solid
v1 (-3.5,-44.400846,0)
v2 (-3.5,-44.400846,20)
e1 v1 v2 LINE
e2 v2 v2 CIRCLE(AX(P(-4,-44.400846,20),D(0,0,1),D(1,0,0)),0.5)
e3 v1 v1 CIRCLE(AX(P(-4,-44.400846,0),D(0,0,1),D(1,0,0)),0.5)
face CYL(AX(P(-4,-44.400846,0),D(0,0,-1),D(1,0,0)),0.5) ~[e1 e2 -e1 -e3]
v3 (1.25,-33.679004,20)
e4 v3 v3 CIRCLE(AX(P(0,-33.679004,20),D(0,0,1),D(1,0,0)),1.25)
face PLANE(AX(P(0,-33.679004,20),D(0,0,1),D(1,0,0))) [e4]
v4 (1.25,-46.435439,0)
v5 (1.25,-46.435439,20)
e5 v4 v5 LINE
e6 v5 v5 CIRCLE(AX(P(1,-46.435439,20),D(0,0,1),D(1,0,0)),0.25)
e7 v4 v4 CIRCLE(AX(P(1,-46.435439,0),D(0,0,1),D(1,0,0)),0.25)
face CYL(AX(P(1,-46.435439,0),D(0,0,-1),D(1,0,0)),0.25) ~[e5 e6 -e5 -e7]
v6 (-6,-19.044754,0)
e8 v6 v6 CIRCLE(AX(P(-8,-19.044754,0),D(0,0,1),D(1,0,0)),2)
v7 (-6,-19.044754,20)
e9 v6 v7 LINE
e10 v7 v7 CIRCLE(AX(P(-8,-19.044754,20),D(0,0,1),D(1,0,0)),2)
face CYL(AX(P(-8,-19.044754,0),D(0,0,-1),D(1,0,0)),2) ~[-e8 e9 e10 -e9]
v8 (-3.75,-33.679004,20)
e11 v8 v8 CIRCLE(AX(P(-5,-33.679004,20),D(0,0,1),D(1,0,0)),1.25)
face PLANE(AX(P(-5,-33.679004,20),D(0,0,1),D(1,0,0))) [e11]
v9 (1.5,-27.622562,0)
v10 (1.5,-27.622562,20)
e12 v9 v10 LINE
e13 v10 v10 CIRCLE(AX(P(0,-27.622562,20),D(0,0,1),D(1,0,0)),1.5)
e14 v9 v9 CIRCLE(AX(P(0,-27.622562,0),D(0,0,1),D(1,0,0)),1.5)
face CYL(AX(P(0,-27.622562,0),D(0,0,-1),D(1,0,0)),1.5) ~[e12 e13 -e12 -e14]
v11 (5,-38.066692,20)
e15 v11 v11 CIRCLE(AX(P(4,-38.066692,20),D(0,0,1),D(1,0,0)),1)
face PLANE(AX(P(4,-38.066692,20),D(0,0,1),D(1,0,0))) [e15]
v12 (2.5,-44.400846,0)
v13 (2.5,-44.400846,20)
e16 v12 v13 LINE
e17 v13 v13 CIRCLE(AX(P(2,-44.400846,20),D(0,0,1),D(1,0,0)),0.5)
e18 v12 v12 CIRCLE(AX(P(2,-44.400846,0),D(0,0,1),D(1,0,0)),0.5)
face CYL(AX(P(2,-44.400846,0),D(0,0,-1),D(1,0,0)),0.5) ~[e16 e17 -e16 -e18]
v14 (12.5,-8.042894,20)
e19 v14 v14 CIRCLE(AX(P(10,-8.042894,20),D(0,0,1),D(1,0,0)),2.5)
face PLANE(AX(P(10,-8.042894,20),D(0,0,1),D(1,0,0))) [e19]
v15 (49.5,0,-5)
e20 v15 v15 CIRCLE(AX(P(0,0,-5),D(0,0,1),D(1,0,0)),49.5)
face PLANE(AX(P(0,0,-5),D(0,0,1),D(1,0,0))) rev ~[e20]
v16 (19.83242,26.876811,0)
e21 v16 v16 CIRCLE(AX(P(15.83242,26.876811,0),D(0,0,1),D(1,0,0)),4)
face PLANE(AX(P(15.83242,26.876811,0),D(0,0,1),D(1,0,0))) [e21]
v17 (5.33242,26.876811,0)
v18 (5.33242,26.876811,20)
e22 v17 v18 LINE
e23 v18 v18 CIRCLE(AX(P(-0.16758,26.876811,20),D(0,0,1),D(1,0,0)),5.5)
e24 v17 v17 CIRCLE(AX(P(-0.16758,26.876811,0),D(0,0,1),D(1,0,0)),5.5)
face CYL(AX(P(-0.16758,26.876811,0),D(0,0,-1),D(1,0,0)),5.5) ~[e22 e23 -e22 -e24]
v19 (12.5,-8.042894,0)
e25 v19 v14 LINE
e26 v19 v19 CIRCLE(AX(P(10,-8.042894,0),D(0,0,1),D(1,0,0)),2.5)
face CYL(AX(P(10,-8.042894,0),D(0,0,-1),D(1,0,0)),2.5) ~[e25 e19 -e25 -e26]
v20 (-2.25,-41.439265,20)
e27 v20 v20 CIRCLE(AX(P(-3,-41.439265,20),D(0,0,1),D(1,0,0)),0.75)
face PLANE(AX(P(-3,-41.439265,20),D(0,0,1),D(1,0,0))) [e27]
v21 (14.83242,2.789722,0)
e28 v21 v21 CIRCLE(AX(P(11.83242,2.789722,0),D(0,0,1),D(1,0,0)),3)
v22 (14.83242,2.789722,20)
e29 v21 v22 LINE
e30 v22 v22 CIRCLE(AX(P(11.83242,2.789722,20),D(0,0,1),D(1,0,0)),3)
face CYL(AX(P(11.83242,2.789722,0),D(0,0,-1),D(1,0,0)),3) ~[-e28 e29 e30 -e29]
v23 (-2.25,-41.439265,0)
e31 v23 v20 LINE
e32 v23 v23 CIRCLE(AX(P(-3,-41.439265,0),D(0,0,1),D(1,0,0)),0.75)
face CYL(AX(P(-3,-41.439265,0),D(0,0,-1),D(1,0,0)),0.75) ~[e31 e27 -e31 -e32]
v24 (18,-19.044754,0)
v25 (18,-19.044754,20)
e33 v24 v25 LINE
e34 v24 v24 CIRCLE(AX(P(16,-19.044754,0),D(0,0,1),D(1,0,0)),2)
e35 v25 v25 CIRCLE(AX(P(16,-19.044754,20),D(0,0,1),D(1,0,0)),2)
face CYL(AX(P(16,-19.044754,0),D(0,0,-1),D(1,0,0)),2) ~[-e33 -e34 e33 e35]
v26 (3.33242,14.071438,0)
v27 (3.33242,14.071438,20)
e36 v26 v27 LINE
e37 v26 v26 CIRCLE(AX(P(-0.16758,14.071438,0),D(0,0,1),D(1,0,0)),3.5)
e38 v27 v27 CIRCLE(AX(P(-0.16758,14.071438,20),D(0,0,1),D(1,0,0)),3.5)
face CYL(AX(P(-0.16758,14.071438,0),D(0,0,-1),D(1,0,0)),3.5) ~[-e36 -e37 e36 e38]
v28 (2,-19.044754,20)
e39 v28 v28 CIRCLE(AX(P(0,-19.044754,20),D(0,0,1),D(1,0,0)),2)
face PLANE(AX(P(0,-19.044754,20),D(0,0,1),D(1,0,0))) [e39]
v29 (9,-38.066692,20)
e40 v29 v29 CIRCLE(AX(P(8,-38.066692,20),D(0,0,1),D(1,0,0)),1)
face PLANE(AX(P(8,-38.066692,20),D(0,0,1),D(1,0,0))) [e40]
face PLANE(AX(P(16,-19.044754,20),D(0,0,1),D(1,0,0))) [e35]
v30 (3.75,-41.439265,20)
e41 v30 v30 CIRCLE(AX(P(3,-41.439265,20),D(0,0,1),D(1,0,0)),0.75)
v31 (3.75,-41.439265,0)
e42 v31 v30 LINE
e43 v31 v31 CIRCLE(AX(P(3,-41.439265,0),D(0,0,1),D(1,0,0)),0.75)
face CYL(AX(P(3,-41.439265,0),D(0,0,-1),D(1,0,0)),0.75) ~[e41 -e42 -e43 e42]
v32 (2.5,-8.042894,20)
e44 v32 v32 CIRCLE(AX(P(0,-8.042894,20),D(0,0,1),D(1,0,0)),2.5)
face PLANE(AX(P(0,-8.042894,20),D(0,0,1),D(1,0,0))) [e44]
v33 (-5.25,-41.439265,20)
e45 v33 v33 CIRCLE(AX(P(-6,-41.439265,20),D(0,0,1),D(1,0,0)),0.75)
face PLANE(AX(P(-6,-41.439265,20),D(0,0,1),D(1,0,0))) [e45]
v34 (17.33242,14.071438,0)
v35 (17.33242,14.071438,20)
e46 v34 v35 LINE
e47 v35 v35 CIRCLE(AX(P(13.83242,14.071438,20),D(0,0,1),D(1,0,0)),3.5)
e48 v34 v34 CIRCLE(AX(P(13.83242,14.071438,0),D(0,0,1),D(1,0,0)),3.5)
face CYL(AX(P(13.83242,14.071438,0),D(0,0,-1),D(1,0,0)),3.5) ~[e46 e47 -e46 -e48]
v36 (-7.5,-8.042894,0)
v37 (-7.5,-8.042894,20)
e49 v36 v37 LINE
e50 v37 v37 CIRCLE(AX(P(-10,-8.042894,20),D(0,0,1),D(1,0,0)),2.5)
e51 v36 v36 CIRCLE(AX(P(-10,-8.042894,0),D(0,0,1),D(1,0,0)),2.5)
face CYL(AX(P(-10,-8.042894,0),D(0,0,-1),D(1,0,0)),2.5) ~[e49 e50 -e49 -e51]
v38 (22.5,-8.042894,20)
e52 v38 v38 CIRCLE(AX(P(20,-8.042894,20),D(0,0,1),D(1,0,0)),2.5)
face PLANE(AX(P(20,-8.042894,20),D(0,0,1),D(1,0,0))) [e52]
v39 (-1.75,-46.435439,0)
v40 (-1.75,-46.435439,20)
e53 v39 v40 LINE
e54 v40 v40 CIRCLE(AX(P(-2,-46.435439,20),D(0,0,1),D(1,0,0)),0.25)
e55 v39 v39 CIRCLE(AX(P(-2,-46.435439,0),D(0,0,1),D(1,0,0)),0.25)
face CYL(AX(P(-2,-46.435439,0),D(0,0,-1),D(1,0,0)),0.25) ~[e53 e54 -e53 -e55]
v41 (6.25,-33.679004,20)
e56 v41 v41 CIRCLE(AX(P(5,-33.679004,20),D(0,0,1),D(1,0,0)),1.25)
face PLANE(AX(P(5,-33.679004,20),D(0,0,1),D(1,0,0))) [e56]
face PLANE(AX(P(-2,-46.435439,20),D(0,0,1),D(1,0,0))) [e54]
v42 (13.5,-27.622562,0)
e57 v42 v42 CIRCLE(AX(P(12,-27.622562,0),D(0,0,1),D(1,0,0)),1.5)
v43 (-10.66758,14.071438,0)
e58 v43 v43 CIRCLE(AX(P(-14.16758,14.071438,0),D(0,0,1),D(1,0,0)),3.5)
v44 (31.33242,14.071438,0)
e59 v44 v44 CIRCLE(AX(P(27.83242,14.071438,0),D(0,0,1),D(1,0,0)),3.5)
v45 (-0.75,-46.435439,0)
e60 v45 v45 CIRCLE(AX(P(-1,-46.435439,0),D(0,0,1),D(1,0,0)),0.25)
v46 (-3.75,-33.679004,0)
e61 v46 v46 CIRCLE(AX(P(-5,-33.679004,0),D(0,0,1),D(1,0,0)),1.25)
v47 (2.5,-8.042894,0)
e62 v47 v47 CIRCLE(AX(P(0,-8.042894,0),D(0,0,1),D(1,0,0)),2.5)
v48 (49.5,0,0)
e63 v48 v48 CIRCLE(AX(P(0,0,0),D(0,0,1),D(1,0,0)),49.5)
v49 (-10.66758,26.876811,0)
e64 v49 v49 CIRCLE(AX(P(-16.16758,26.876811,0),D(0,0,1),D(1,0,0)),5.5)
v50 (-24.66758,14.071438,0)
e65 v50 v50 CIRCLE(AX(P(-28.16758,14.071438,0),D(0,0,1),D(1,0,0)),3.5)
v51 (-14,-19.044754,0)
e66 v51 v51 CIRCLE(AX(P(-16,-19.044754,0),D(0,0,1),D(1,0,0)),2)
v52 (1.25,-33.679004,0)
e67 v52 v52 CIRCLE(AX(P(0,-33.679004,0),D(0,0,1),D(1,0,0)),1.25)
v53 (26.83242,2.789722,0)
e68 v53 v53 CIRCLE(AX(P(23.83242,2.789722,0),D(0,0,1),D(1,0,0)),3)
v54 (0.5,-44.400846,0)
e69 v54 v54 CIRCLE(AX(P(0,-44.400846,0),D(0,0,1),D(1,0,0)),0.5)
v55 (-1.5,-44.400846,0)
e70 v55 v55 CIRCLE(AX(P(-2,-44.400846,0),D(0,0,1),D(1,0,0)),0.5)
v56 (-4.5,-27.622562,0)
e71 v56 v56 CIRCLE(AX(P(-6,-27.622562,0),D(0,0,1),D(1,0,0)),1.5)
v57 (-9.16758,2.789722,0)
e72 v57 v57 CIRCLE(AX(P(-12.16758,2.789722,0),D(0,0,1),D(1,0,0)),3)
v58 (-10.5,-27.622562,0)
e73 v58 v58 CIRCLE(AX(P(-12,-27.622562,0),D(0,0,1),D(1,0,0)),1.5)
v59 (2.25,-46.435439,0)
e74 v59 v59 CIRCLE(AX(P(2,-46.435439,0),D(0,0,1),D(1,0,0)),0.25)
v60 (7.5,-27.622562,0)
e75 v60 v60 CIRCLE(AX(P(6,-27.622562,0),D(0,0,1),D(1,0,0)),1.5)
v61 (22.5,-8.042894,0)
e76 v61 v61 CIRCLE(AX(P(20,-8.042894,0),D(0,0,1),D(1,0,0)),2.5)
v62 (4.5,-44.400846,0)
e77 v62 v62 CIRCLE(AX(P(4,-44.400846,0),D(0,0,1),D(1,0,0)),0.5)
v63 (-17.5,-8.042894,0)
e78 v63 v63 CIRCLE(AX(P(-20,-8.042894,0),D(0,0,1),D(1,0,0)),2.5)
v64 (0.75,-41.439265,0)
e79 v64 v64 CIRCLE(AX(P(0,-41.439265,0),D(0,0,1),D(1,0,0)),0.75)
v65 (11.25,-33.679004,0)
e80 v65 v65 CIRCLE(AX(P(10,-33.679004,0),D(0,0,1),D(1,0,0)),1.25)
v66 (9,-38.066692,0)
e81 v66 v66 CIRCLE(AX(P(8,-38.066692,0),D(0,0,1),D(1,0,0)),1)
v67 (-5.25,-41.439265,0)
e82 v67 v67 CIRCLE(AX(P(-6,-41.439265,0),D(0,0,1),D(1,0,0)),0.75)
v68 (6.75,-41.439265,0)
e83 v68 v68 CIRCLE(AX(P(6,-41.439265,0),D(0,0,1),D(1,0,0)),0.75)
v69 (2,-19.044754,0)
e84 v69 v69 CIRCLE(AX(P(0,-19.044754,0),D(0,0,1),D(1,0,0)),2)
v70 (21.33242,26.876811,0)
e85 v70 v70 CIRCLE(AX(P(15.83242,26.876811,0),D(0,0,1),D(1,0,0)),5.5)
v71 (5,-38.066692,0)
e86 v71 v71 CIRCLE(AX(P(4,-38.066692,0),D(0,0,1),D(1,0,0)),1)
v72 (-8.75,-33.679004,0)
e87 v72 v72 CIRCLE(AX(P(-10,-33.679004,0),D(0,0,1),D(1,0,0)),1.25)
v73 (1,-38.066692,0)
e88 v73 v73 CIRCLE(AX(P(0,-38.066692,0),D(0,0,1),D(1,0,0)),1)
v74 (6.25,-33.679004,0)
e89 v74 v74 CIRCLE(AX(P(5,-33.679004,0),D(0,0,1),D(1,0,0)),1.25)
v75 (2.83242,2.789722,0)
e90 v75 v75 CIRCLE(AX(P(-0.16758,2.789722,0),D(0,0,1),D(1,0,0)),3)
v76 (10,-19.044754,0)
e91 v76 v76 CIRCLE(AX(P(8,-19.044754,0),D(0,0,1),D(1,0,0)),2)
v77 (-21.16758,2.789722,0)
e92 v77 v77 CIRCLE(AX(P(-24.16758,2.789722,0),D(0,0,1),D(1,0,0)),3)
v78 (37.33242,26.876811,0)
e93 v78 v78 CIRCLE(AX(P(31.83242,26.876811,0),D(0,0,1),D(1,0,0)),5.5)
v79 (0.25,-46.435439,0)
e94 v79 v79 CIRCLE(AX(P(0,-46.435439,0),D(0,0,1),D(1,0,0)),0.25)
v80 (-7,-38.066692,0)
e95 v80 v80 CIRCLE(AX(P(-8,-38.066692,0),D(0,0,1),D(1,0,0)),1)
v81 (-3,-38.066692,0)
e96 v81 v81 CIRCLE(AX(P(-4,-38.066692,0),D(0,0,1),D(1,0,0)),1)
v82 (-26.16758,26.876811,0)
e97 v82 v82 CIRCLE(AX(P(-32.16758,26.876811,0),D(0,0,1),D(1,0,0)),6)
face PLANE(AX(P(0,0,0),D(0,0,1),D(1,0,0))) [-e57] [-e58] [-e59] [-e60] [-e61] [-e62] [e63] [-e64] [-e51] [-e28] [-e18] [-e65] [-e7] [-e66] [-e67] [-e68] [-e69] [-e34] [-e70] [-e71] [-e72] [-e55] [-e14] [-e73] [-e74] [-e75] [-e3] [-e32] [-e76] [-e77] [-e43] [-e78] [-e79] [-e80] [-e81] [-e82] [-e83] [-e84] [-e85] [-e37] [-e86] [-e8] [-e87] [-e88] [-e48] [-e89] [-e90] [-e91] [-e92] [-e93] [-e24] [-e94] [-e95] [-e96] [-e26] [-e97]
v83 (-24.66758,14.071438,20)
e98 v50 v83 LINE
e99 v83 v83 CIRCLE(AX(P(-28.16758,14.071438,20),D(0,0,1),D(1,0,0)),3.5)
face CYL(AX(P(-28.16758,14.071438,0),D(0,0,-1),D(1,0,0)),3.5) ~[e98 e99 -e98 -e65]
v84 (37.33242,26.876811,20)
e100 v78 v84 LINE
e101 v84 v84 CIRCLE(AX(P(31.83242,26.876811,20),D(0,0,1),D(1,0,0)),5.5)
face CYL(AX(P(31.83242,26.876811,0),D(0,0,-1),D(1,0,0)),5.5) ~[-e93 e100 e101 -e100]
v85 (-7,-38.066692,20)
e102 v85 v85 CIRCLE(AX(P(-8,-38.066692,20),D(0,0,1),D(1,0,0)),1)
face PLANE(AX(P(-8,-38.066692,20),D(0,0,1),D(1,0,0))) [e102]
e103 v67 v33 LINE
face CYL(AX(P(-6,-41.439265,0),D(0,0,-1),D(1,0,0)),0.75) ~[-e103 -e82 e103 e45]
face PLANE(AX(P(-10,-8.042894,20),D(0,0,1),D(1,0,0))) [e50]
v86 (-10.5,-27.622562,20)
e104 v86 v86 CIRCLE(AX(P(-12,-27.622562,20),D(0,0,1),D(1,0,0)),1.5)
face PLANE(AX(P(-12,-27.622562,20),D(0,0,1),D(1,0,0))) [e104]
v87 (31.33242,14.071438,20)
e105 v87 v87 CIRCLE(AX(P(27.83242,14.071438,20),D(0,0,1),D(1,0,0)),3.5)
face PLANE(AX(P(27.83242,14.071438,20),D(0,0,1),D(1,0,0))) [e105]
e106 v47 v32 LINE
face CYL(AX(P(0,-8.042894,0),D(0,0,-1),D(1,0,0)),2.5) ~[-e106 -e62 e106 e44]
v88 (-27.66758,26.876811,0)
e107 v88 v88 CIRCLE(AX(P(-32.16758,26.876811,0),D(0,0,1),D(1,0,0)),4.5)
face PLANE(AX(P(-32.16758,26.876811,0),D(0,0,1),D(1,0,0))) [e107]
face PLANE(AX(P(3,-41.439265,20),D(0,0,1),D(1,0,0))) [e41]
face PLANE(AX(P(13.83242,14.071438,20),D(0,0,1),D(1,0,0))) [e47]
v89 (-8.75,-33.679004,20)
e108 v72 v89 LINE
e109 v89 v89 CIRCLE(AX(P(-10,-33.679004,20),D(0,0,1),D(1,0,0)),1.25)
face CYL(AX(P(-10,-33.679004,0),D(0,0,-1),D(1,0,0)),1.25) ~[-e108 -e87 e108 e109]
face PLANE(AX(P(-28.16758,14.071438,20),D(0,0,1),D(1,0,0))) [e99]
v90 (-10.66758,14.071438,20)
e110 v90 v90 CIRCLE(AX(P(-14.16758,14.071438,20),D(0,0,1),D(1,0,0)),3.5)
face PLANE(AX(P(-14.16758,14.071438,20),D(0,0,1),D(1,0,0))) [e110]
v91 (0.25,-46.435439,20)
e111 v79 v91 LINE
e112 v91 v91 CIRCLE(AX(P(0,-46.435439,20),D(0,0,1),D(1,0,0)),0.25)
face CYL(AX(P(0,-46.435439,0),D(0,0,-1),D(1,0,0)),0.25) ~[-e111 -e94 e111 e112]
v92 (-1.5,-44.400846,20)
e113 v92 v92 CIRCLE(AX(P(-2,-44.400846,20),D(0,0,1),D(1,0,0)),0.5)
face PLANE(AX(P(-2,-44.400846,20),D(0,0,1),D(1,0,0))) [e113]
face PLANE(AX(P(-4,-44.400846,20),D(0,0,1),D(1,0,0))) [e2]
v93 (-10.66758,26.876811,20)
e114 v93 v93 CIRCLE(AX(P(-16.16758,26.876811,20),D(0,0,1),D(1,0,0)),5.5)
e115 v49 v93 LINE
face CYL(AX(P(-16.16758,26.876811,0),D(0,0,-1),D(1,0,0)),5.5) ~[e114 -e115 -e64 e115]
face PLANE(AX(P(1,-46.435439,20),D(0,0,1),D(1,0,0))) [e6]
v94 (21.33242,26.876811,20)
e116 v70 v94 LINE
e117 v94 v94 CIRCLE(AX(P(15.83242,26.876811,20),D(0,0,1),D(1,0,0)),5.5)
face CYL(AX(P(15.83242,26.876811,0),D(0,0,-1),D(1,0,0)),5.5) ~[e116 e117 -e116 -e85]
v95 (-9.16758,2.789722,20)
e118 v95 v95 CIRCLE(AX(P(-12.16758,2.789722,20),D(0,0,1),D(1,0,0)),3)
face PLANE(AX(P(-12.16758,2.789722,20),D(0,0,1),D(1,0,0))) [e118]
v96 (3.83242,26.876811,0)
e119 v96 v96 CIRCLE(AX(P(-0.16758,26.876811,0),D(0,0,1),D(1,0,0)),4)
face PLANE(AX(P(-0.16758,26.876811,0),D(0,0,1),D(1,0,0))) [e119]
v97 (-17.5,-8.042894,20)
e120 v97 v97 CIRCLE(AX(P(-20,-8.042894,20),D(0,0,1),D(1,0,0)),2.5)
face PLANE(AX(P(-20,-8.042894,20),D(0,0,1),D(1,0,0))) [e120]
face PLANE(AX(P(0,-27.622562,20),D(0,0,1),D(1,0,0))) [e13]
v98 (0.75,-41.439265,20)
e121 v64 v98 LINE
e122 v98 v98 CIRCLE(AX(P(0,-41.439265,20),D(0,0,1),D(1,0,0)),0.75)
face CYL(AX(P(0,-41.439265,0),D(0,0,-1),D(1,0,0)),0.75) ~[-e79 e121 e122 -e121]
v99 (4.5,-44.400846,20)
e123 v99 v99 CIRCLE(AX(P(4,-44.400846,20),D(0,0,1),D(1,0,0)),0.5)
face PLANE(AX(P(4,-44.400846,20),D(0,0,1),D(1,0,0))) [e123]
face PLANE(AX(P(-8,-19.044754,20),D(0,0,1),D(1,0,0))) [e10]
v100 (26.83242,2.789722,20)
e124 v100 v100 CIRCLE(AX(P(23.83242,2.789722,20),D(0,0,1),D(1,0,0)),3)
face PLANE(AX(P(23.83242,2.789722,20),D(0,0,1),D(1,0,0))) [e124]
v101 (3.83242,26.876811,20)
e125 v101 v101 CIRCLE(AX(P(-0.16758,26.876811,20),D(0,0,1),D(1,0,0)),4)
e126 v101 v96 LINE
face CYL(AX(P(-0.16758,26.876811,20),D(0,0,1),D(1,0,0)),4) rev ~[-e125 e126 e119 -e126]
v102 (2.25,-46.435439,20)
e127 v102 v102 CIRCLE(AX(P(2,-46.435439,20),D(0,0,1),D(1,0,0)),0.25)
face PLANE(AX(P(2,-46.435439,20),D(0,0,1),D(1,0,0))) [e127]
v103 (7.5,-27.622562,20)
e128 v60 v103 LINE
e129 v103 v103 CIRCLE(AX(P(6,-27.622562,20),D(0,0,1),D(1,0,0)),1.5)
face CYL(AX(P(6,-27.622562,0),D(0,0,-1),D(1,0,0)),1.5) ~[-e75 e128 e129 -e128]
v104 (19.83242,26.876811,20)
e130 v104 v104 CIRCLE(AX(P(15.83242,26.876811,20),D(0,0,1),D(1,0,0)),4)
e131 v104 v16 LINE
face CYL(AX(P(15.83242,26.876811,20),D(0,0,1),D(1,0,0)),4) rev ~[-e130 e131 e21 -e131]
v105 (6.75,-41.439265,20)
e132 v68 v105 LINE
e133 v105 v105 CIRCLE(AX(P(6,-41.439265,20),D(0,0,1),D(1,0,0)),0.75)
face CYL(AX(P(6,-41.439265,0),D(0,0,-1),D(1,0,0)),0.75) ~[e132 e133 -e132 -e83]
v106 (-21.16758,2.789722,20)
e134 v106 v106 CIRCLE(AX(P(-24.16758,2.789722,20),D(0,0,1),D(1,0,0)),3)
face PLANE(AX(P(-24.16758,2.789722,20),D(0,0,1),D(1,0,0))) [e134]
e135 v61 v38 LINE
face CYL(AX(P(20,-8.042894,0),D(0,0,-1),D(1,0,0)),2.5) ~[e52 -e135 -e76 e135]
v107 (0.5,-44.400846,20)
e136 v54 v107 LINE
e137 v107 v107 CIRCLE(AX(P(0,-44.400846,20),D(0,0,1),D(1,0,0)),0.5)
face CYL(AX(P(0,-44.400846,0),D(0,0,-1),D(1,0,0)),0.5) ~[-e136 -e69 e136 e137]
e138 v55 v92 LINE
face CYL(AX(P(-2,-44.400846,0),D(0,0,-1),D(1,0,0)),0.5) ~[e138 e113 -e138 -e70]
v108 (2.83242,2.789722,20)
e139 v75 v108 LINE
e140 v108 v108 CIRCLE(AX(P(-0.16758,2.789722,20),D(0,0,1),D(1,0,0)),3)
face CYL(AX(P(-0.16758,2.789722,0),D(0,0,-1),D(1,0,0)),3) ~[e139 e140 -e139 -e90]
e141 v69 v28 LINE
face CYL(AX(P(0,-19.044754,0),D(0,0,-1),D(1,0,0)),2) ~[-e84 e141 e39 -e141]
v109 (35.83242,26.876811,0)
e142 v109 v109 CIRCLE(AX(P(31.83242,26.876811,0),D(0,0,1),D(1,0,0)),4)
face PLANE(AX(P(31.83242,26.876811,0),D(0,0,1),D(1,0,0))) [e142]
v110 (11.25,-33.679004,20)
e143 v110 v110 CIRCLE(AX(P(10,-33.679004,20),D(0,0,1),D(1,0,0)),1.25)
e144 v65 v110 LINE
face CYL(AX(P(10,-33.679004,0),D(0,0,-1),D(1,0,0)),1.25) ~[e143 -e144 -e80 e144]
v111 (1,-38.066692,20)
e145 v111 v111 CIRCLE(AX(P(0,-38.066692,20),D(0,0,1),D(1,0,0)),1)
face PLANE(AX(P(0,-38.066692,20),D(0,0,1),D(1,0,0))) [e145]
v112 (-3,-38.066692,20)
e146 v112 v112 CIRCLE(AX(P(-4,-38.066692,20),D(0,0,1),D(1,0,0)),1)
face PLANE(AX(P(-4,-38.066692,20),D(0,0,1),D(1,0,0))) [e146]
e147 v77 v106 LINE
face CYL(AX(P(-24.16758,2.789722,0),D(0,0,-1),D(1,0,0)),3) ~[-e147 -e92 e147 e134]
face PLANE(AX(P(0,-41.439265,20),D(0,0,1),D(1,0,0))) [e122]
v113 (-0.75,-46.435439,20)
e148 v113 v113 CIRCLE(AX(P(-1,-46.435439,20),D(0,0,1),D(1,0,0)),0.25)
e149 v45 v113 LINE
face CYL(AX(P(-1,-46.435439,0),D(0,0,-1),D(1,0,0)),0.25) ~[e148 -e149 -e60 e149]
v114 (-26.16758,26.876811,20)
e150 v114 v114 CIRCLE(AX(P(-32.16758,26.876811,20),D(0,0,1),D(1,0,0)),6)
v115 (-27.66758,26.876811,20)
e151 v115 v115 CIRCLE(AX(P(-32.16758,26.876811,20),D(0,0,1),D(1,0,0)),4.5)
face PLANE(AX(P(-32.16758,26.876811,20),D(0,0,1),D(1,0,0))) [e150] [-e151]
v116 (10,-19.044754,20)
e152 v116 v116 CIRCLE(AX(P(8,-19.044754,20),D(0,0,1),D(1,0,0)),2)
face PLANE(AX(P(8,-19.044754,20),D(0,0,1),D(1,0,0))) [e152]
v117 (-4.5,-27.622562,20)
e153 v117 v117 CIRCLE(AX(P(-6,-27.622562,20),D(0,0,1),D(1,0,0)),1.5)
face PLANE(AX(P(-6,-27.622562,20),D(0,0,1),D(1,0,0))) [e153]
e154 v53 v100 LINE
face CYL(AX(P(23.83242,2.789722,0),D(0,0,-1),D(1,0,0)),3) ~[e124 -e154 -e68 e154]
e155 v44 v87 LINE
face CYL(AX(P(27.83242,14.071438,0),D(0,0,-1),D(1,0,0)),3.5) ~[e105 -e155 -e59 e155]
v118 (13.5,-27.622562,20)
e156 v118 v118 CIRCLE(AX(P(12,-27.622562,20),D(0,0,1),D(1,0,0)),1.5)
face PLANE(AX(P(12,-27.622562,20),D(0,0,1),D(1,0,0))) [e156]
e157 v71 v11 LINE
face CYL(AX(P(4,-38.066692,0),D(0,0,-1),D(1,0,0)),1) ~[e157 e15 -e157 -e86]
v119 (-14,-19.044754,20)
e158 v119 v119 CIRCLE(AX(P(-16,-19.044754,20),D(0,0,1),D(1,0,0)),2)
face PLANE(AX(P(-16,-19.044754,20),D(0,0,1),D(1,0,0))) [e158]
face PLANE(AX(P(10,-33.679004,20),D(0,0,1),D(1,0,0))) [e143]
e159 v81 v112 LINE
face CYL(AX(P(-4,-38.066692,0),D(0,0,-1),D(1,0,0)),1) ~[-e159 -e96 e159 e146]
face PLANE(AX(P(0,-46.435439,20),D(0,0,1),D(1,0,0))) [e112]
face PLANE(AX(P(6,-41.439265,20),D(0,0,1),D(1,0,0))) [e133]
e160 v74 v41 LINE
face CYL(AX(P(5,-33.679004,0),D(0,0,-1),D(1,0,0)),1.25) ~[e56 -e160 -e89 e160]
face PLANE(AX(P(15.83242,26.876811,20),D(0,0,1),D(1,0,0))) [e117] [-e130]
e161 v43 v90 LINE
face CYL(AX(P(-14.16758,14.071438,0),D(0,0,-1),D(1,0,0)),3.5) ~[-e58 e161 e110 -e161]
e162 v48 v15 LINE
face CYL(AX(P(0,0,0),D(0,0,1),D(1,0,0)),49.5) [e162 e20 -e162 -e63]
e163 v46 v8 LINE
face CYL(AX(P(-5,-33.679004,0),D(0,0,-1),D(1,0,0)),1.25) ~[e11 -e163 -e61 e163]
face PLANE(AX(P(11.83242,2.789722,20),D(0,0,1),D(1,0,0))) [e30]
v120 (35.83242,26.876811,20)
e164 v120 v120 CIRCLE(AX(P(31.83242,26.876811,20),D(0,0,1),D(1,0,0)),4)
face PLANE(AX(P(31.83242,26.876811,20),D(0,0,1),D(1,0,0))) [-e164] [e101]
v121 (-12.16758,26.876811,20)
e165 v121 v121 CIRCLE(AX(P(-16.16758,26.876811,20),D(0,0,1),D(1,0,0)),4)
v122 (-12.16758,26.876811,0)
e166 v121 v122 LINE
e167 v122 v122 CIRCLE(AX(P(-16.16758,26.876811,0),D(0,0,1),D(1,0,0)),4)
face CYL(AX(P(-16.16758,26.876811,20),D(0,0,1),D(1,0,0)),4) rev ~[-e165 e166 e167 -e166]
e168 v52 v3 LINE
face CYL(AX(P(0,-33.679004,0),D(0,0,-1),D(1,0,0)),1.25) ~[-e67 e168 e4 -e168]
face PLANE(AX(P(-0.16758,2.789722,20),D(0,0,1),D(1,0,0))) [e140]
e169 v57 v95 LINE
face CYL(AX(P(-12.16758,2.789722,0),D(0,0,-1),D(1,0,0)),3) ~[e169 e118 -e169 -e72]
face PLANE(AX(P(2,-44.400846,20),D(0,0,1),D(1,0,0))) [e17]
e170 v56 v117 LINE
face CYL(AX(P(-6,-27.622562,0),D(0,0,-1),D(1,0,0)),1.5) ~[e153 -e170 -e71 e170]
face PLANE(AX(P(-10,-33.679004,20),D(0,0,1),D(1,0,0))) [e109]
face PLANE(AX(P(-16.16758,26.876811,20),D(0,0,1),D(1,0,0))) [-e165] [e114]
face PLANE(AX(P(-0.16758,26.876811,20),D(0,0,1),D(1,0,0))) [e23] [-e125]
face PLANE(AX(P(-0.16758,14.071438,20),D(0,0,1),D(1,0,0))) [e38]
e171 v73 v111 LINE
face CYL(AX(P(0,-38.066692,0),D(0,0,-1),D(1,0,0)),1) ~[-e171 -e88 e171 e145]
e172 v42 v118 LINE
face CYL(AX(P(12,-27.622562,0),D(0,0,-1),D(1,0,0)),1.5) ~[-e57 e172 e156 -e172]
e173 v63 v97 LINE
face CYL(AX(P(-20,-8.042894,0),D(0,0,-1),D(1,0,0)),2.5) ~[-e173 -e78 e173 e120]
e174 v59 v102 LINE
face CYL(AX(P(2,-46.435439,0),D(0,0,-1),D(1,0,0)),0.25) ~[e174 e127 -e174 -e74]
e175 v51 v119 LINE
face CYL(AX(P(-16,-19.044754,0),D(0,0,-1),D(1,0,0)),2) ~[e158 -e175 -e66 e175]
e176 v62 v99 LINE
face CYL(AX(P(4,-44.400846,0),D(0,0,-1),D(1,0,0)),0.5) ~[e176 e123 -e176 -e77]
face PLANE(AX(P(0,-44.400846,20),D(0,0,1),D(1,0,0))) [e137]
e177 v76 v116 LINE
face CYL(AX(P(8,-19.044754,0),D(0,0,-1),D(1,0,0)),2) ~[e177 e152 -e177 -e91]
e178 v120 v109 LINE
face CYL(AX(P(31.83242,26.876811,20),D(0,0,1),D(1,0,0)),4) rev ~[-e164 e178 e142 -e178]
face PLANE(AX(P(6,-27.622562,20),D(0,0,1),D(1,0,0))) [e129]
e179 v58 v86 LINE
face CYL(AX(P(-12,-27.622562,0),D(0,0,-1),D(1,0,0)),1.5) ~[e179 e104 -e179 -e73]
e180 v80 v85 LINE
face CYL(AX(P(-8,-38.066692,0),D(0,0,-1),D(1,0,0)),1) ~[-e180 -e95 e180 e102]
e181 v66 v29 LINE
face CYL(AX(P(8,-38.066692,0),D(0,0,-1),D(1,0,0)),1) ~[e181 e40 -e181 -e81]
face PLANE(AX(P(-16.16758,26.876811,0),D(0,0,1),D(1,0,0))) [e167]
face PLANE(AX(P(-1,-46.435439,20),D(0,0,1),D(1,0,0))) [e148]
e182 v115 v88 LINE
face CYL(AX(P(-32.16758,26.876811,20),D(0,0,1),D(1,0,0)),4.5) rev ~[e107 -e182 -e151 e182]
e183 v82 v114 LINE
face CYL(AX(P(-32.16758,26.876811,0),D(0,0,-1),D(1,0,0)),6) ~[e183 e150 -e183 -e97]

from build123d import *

# Parameters (mm, degrees)
SKETCH1_R              = 0.25
BOSS_EXTRUDE1_DEPTH    = 20
BOSS_EXTRUDE1_2_DEPTH  = 20
BOSS_EXTRUDE1_3_DEPTH  = 20
BOSS_EXTRUDE1_4_DEPTH  = 20
BOSS_EXTRUDE1_5_DEPTH  = 20
SKETCH1_R_2            = 0.5
BOSS_EXTRUDE1_6_DEPTH  = 20
BOSS_EXTRUDE1_7_DEPTH  = 20
BOSS_EXTRUDE1_8_DEPTH  = 20
BOSS_EXTRUDE1_9_DEPTH  = 20
BOSS_EXTRUDE1_10_DEPTH = 20
SKETCH1_R_3            = 1
BOSS_EXTRUDE1_11_DEPTH = 20
BOSS_EXTRUDE1_12_DEPTH = 20
BOSS_EXTRUDE1_13_DEPTH = 20
BOSS_EXTRUDE1_14_DEPTH = 20
BOSS_EXTRUDE1_15_DEPTH = 20
SKETCH1_R_4            = 1.5
BOSS_EXTRUDE1_16_DEPTH = 20
BOSS_EXTRUDE1_17_DEPTH = 20
BOSS_EXTRUDE1_18_DEPTH = 20
BOSS_EXTRUDE1_19_DEPTH = 20
BOSS_EXTRUDE1_20_DEPTH = 20
SKETCH1_R_5            = 2
BOSS_EXTRUDE1_21_DEPTH = 20
BOSS_EXTRUDE1_22_DEPTH = 20
BOSS_EXTRUDE1_23_DEPTH = 20
BOSS_EXTRUDE1_24_DEPTH = 20
BOSS_EXTRUDE1_25_DEPTH = 20
SKETCH1_R_6            = 2.5
BOSS_EXTRUDE1_26_DEPTH = 20
BOSS_EXTRUDE1_27_DEPTH = 20
BOSS_EXTRUDE1_28_DEPTH = 20
BOSS_EXTRUDE1_29_DEPTH = 20
BOSS_EXTRUDE1_30_DEPTH = 20
SKETCH1_R_7            = 3
BOSS_EXTRUDE1_31_DEPTH = 20
BOSS_EXTRUDE1_32_DEPTH = 20
BOSS_EXTRUDE1_33_DEPTH = 20
BOSS_EXTRUDE1_34_DEPTH = 20
BOSS_EXTRUDE1_35_DEPTH = 20
SKETCH1_R_8            = 3.5
BOSS_EXTRUDE1_36_DEPTH = 20
BOSS_EXTRUDE1_37_DEPTH = 20
BOSS_EXTRUDE1_38_DEPTH = 20
BOSS_EXTRUDE1_39_DEPTH = 20
BOSS_EXTRUDE1_40_DEPTH = 20
SKETCH1_R_9            = 4
BOSS_EXTRUDE1_41_DEPTH = 20
BOSS_EXTRUDE1_42_DEPTH = 20
BOSS_EXTRUDE1_43_DEPTH = 20
BOSS_EXTRUDE1_44_DEPTH = 20
BOSS_EXTRUDE1_45_DEPTH = 20
SKETCH1_R_10           = 1.25
BOSS_EXTRUDE1_46_DEPTH = 20
BOSS_EXTRUDE1_47_DEPTH = 20
BOSS_EXTRUDE1_48_DEPTH = 20
BOSS_EXTRUDE1_49_DEPTH = 20
BOSS_EXTRUDE1_50_DEPTH = 20
SKETCH1_R_11           = 0.75
BOSS_EXTRUDE1_51_DEPTH = 20
BOSS_EXTRUDE1_52_DEPTH = 20
BOSS_EXTRUDE1_53_DEPTH = 20
BOSS_EXTRUDE1_54_DEPTH = 20
BOSS_EXTRUDE1_55_DEPTH = 20
SKETCH4_R              = 49.5
BOSS_EXTRUDE2_DEPTH    = 5
BOSS_EXTRUDE3_START    = -20
SKETCH6_R              = 5.5
SKETCH6_R_2            = 4
SKETCH6_R_3            = 6
BOSS_EXTRUDE3_DEPTH    = 20
SKETCH7_R              = 4.5
SKETCH7_R_2            = 4
CUT_EXTRUDE1_DEPTH     = 20


with BuildPart() as part:
    # Sketch1 → Boss-Extrude1 (new body)
    with BuildSketch(Plane.XY):
        with Locations((0, -46.435439053)):
            Circle(SKETCH1_R)
    extrude(amount=BOSS_EXTRUDE1_DEPTH)



with BuildPart() as body_2:
    # Sketch1 → Boss-Extrude1 2 (new body)
    with BuildSketch(Plane.XY):
        with Locations((1, -46.435439053)):
            Circle(SKETCH1_R)
    extrude(amount=BOSS_EXTRUDE1_2_DEPTH)


with BuildPart() as body_3:
    # Sketch1 → Boss-Extrude1 3 (new body)
    with BuildSketch(Plane.XY):
        with Locations((2, -46.435439053)):
            Circle(SKETCH1_R)
    extrude(amount=BOSS_EXTRUDE1_3_DEPTH)


with BuildPart() as body_4:
    # Sketch1 → Boss-Extrude1 4 (new body)
    with BuildSketch(Plane.XY):
        with Locations((-1, -46.435439053)):
            Circle(SKETCH1_R)
    extrude(amount=BOSS_EXTRUDE1_4_DEPTH)


with BuildPart() as body_5:
    # Sketch1 → Boss-Extrude1 5 (new body)
    with BuildSketch(Plane.XY):
        with Locations((-2, -46.435439053)):
            Circle(SKETCH1_R)
    extrude(amount=BOSS_EXTRUDE1_5_DEPTH)


with BuildPart() as body_6:
    # Sketch1 → Boss-Extrude1 6 (new body)
    with BuildSketch(Plane.XY):
        with Locations((0, -44.400846234)):
            Circle(SKETCH1_R_2)
    extrude(amount=BOSS_EXTRUDE1_6_DEPTH)


with BuildPart() as body_7:
    # Sketch1 → Boss-Extrude1 7 (new body)
    with BuildSketch(Plane.XY):
        with Locations((2, -44.400846234)):
            Circle(SKETCH1_R_2)
    extrude(amount=BOSS_EXTRUDE1_7_DEPTH)


with BuildPart() as body_8:
    # Sketch1 → Boss-Extrude1 8 (new body)
    with BuildSketch(Plane.XY):
        with Locations((4, -44.400846234)):
            Circle(SKETCH1_R_2)
    extrude(amount=BOSS_EXTRUDE1_8_DEPTH)


with BuildPart() as body_9:
    # Sketch1 → Boss-Extrude1 9 (new body)
    with BuildSketch(Plane.XY):
        with Locations((-2, -44.400846234)):
            Circle(SKETCH1_R_2)
    extrude(amount=BOSS_EXTRUDE1_9_DEPTH)


with BuildPart() as body_10:
    # Sketch1 → Boss-Extrude1 10 (new body)
    with BuildSketch(Plane.XY):
        with Locations((-4, -44.400846234)):
            Circle(SKETCH1_R_2)
    extrude(amount=BOSS_EXTRUDE1_10_DEPTH)


with BuildPart() as body_11:
    # Sketch1 → Boss-Extrude1 11 (new body)
    with BuildSketch(Plane.XY):
        with Locations((0, -38.06669187)):
            Circle(SKETCH1_R_3)
    extrude(amount=BOSS_EXTRUDE1_11_DEPTH)


with BuildPart() as body_12:
    # Sketch1 → Boss-Extrude1 12 (new body)
    with BuildSketch(Plane.XY):
        with Locations((4, -38.06669187)):
            Circle(SKETCH1_R_3)
    extrude(amount=BOSS_EXTRUDE1_12_DEPTH)


with BuildPart() as body_13:
    # Sketch1 → Boss-Extrude1 13 (new body)
    with BuildSketch(Plane.XY):
        with Locations((8, -38.06669187)):
            Circle(SKETCH1_R_3)
    extrude(amount=BOSS_EXTRUDE1_13_DEPTH)


with BuildPart() as body_14:
    # Sketch1 → Boss-Extrude1 14 (new body)
    with BuildSketch(Plane.XY):
        with Locations((-4, -38.06669187)):
            Circle(SKETCH1_R_3)
    extrude(amount=BOSS_EXTRUDE1_14_DEPTH)


with BuildPart() as body_15:
    # Sketch1 → Boss-Extrude1 15 (new body)
    with BuildSketch(Plane.XY):
        with Locations((-8, -38.06669187)):
            Circle(SKETCH1_R_3)
    extrude(amount=BOSS_EXTRUDE1_15_DEPTH)


with BuildPart() as body_16:
    # Sketch1 → Boss-Extrude1 16 (new body)
    with BuildSketch(Plane.XY):
        with Locations((0, -27.622561985)):
            Circle(SKETCH1_R_4)
    extrude(amount=BOSS_EXTRUDE1_16_DEPTH)


with BuildPart() as body_17:
    # Sketch1 → Boss-Extrude1 17 (new body)
    with BuildSketch(Plane.XY):
        with Locations((6, -27.622561985)):
            Circle(SKETCH1_R_4)
    extrude(amount=BOSS_EXTRUDE1_17_DEPTH)


with BuildPart() as body_18:
    # Sketch1 → Boss-Extrude1 18 (new body)
    with BuildSketch(Plane.XY):
        with Locations((12, -27.622561985)):
            Circle(SKETCH1_R_4)
    extrude(amount=BOSS_EXTRUDE1_18_DEPTH)


with BuildPart() as body_19:
    # Sketch1 → Boss-Extrude1 19 (new body)
    with BuildSketch(Plane.XY):
        with Locations((-6, -27.622561985)):
            Circle(SKETCH1_R_4)
    extrude(amount=BOSS_EXTRUDE1_19_DEPTH)


with BuildPart() as body_20:
    # Sketch1 → Boss-Extrude1 20 (new body)
    with BuildSketch(Plane.XY):
        with Locations((-12, -27.622561985)):
            Circle(SKETCH1_R_4)
    extrude(amount=BOSS_EXTRUDE1_20_DEPTH)


with BuildPart() as body_21:
    # Sketch1 → Boss-Extrude1 21 (new body)
    with BuildSketch(Plane.XY):
        with Locations((0, -19.044753509)):
            Circle(SKETCH1_R_5)
    extrude(amount=BOSS_EXTRUDE1_21_DEPTH)


with BuildPart() as body_22:
    # Sketch1 → Boss-Extrude1 22 (new body)
    with BuildSketch(Plane.XY):
        with Locations((8, -19.044753509)):
            Circle(SKETCH1_R_5)
    extrude(amount=BOSS_EXTRUDE1_22_DEPTH)


with BuildPart() as body_23:
    # Sketch1 → Boss-Extrude1 23 (new body)
    with BuildSketch(Plane.XY):
        with Locations((16, -19.044753509)):
            Circle(SKETCH1_R_5)
    extrude(amount=BOSS_EXTRUDE1_23_DEPTH)


with BuildPart() as body_24:
    # Sketch1 → Boss-Extrude1 24 (new body)
    with BuildSketch(Plane.XY):
        with Locations((-8, -19.044753509)):
            Circle(SKETCH1_R_5)
    extrude(amount=BOSS_EXTRUDE1_24_DEPTH)


with BuildPart() as body_25:
    # Sketch1 → Boss-Extrude1 25 (new body)
    with BuildSketch(Plane.XY):
        with Locations((-16, -19.044753509)):
            Circle(SKETCH1_R_5)
    extrude(amount=BOSS_EXTRUDE1_25_DEPTH)


with BuildPart() as body_26:
    # Sketch1 → Boss-Extrude1 26 (new body)
    with BuildSketch(Plane.XY):
        with Locations((0, -8.042894353)):
            Circle(SKETCH1_R_6)
    extrude(amount=BOSS_EXTRUDE1_26_DEPTH)


with BuildPart() as body_27:
    # Sketch1 → Boss-Extrude1 27 (new body)
    with BuildSketch(Plane.XY):
        with Locations((10, -8.042894353)):
            Circle(SKETCH1_R_6)
    extrude(amount=BOSS_EXTRUDE1_27_DEPTH)


with BuildPart() as body_28:
    # Sketch1 → Boss-Extrude1 28 (new body)
    with BuildSketch(Plane.XY):
        with Locations((20, -8.042894353)):
            Circle(SKETCH1_R_6)
    extrude(amount=BOSS_EXTRUDE1_28_DEPTH)


with BuildPart() as body_29:
    # Sketch1 → Boss-Extrude1 29 (new body)
    with BuildSketch(Plane.XY):
        with Locations((-10, -8.042894353)):
            Circle(SKETCH1_R_6)
    extrude(amount=BOSS_EXTRUDE1_29_DEPTH)


with BuildPart() as body_30:
    # Sketch1 → Boss-Extrude1 30 (new body)
    with BuildSketch(Plane.XY):
        with Locations((-20, -8.042894353)):
            Circle(SKETCH1_R_6)
    extrude(amount=BOSS_EXTRUDE1_30_DEPTH)


with BuildPart() as body_31:
    # Sketch1 → Boss-Extrude1 31 (new body)
    with BuildSketch(Plane.XY):
        with Locations((-0.167579904, 2.789722097)):
            Circle(SKETCH1_R_7)
    extrude(amount=BOSS_EXTRUDE1_31_DEPTH)


with BuildPart() as body_32:
    # Sketch1 → Boss-Extrude1 32 (new body)
    with BuildSketch(Plane.XY):
        with Locations((11.832420096, 2.789722097)):
            Circle(SKETCH1_R_7)
    extrude(amount=BOSS_EXTRUDE1_32_DEPTH)


with BuildPart() as body_33:
    # Sketch1 → Boss-Extrude1 33 (new body)
    with BuildSketch(Plane.XY):
        with Locations((23.832420096, 2.789722097)):
            Circle(SKETCH1_R_7)
    extrude(amount=BOSS_EXTRUDE1_33_DEPTH)


with BuildPart() as body_34:
    # Sketch1 → Boss-Extrude1 34 (new body)
    with BuildSketch(Plane.XY):
        with Locations((-12.167579904, 2.789722097)):
            Circle(SKETCH1_R_7)
    extrude(amount=BOSS_EXTRUDE1_34_DEPTH)


with BuildPart() as body_35:
    # Sketch1 → Boss-Extrude1 35 (new body)
    with BuildSketch(Plane.XY):
        with Locations((-24.167579904, 2.789722097)):
            Circle(SKETCH1_R_7)
    extrude(amount=BOSS_EXTRUDE1_35_DEPTH)


with BuildPart() as body_36:
    # Sketch1 → Boss-Extrude1 36 (new body)
    with BuildSketch(Plane.XY):
        with Locations((-0.167579904, 14.071437835)):
            Circle(SKETCH1_R_8)
    extrude(amount=BOSS_EXTRUDE1_36_DEPTH)


with BuildPart() as body_37:
    # Sketch1 → Boss-Extrude1 37 (new body)
    with BuildSketch(Plane.XY):
        with Locations((13.832420096, 14.071437835)):
            Circle(SKETCH1_R_8)
    extrude(amount=BOSS_EXTRUDE1_37_DEPTH)


with BuildPart() as body_38:
    # Sketch1 → Boss-Extrude1 38 (new body)
    with BuildSketch(Plane.XY):
        with Locations((27.832420096, 14.071437835)):
            Circle(SKETCH1_R_8)
    extrude(amount=BOSS_EXTRUDE1_38_DEPTH)


with BuildPart() as body_39:
    # Sketch1 → Boss-Extrude1 39 (new body)
    with BuildSketch(Plane.XY):
        with Locations((-14.167579904, 14.071437835)):
            Circle(SKETCH1_R_8)
    extrude(amount=BOSS_EXTRUDE1_39_DEPTH)


with BuildPart() as body_40:
    # Sketch1 → Boss-Extrude1 40 (new body)
    with BuildSketch(Plane.XY):
        with Locations((-28.167579904, 14.071437835)):
            Circle(SKETCH1_R_8)
    extrude(amount=BOSS_EXTRUDE1_40_DEPTH)


with BuildPart() as body_41:
    # Sketch1 → Boss-Extrude1 41 (new body)
    with BuildSketch(Plane.XY):
        with Locations((-0.167579904, 26.876811398)):
            Circle(SKETCH1_R_9)
    extrude(amount=BOSS_EXTRUDE1_41_DEPTH)


with BuildPart() as body_42:
    # Sketch1 → Boss-Extrude1 42 (new body)
    with BuildSketch(Plane.XY):
        with Locations((15.832420096, 26.876811398)):
            Circle(SKETCH1_R_9)
    extrude(amount=BOSS_EXTRUDE1_42_DEPTH)


with BuildPart() as body_43:
    # Sketch1 → Boss-Extrude1 43 (new body)
    with BuildSketch(Plane.XY):
        with Locations((31.832420096, 26.876811398)):
            Circle(SKETCH1_R_9)
    extrude(amount=BOSS_EXTRUDE1_43_DEPTH)


with BuildPart() as body_44:
    # Sketch1 → Boss-Extrude1 44 (new body)
    with BuildSketch(Plane.XY):
        with Locations((-16.167579904, 26.876811398)):
            Circle(SKETCH1_R_9)
    extrude(amount=BOSS_EXTRUDE1_44_DEPTH)


with BuildPart() as body_45:
    # Sketch1 → Boss-Extrude1 45 (new body)
    with BuildSketch(Plane.XY):
        with Locations((-32.167579904, 26.876811398)):
            Circle(SKETCH1_R_9)
    extrude(amount=BOSS_EXTRUDE1_45_DEPTH)


with BuildPart() as body_46:
    # Sketch1 → Boss-Extrude1 46 (new body)
    with BuildSketch(Plane.XY):
        with Locations((0, -33.679004074)):
            Circle(SKETCH1_R_10)
    extrude(amount=BOSS_EXTRUDE1_46_DEPTH)


with BuildPart() as body_47:
    # Sketch1 → Boss-Extrude1 47 (new body)
    with BuildSketch(Plane.XY):
        with Locations((5, -33.679004074)):
            Circle(SKETCH1_R_10)
    extrude(amount=BOSS_EXTRUDE1_47_DEPTH)


with BuildPart() as body_48:
    # Sketch1 → Boss-Extrude1 48 (new body)
    with BuildSketch(Plane.XY):
        with Locations((10, -33.679004074)):
            Circle(SKETCH1_R_10)
    extrude(amount=BOSS_EXTRUDE1_48_DEPTH)


with BuildPart() as body_49:
    # Sketch1 → Boss-Extrude1 49 (new body)
    with BuildSketch(Plane.XY):
        with Locations((-5, -33.679004074)):
            Circle(SKETCH1_R_10)
    extrude(amount=BOSS_EXTRUDE1_49_DEPTH)


with BuildPart() as body_50:
    # Sketch1 → Boss-Extrude1 50 (new body)
    with BuildSketch(Plane.XY):
        with Locations((-10, -33.679004074)):
            Circle(SKETCH1_R_10)
    extrude(amount=BOSS_EXTRUDE1_50_DEPTH)


with BuildPart() as body_51:
    # Sketch1 → Boss-Extrude1 51 (new body)
    with BuildSketch(Plane.XY):
        with Locations((0, -41.43926503)):
            Circle(SKETCH1_R_11)
    extrude(amount=BOSS_EXTRUDE1_51_DEPTH)


with BuildPart() as body_52:
    # Sketch1 → Boss-Extrude1 52 (new body)
    with BuildSketch(Plane.XY):
        with Locations((-3, -41.43926503)):
            Circle(SKETCH1_R_11)
    extrude(amount=BOSS_EXTRUDE1_52_DEPTH)


with BuildPart() as body_53:
    # Sketch1 → Boss-Extrude1 53 (new body)
    with BuildSketch(Plane.XY):
        with Locations((-6, -41.43926503)):
            Circle(SKETCH1_R_11)
    extrude(amount=BOSS_EXTRUDE1_53_DEPTH)


with BuildPart() as body_54:
    # Sketch1 → Boss-Extrude1 54 (new body)
    with BuildSketch(Plane.XY):
        with Locations((3, -41.43926503)):
            Circle(SKETCH1_R_11)
    extrude(amount=BOSS_EXTRUDE1_54_DEPTH)


with BuildPart() as body_55:
    # Sketch1 → Boss-Extrude1 55 (new body)
    with BuildSketch(Plane.XY):
        with Locations((6, -41.43926503)):
            Circle(SKETCH1_R_11)
    extrude(amount=BOSS_EXTRUDE1_55_DEPTH)


with BuildPart() as part_1:
    add(part.part)

    add(body_2.part)  # Boss-Extrude2 merges body 2

    add(body_3.part)  # Boss-Extrude2 merges body 3

    add(body_4.part)  # Boss-Extrude2 merges body 4

    add(body_5.part)  # Boss-Extrude2 merges body 5

    add(body_6.part)  # Boss-Extrude2 merges body 6

    add(body_7.part)  # Boss-Extrude2 merges body 7

    add(body_8.part)  # Boss-Extrude2 merges body 8

    add(body_9.part)  # Boss-Extrude2 merges body 9

    add(body_10.part)  # Boss-Extrude2 merges body 10

    add(body_11.part)  # Boss-Extrude2 merges body 11

    add(body_12.part)  # Boss-Extrude2 merges body 12

    add(body_13.part)  # Boss-Extrude2 merges body 13

    add(body_14.part)  # Boss-Extrude2 merges body 14

    add(body_15.part)  # Boss-Extrude2 merges body 15

    add(body_16.part)  # Boss-Extrude2 merges body 16

    add(body_17.part)  # Boss-Extrude2 merges body 17

    add(body_18.part)  # Boss-Extrude2 merges body 18

    add(body_19.part)  # Boss-Extrude2 merges body 19

    add(body_20.part)  # Boss-Extrude2 merges body 20

    add(body_21.part)  # Boss-Extrude2 merges body 21

    add(body_22.part)  # Boss-Extrude2 merges body 22

    add(body_23.part)  # Boss-Extrude2 merges body 23

    add(body_24.part)  # Boss-Extrude2 merges body 24

    add(body_25.part)  # Boss-Extrude2 merges body 25

    add(body_26.part)  # Boss-Extrude2 merges body 26

    add(body_27.part)  # Boss-Extrude2 merges body 27

    add(body_28.part)  # Boss-Extrude2 merges body 28

    add(body_29.part)  # Boss-Extrude2 merges body 29

    add(body_30.part)  # Boss-Extrude2 merges body 30

    add(body_31.part)  # Boss-Extrude2 merges body 31

    add(body_32.part)  # Boss-Extrude2 merges body 32

    add(body_33.part)  # Boss-Extrude2 merges body 33

    add(body_34.part)  # Boss-Extrude2 merges body 34

    add(body_35.part)  # Boss-Extrude2 merges body 35

    add(body_36.part)  # Boss-Extrude2 merges body 36

    add(body_37.part)  # Boss-Extrude2 merges body 37

    add(body_38.part)  # Boss-Extrude2 merges body 38

    add(body_39.part)  # Boss-Extrude2 merges body 39

    add(body_40.part)  # Boss-Extrude2 merges body 40

    add(body_41.part)  # Boss-Extrude2 merges body 41

    add(body_42.part)  # Boss-Extrude2 merges body 42

    add(body_43.part)  # Boss-Extrude2 merges body 43

    add(body_44.part)  # Boss-Extrude2 merges body 44

    add(body_45.part)  # Boss-Extrude2 merges body 45

    add(body_46.part)  # Boss-Extrude2 merges body 46

    add(body_47.part)  # Boss-Extrude2 merges body 47

    add(body_48.part)  # Boss-Extrude2 merges body 48

    add(body_49.part)  # Boss-Extrude2 merges body 49

    add(body_50.part)  # Boss-Extrude2 merges body 50

    add(body_51.part)  # Boss-Extrude2 merges body 51

    add(body_52.part)  # Boss-Extrude2 merges body 52

    add(body_53.part)  # Boss-Extrude2 merges body 53

    add(body_54.part)  # Boss-Extrude2 merges body 54

    add(body_55.part)  # Boss-Extrude2 merges body 55
    # Sketch4 → Boss-Extrude2 (add)
    with BuildSketch(Plane.XY):
        Circle(SKETCH4_R)
    extrude(amount=-BOSS_EXTRUDE2_DEPTH)

    # Sketch6 → Boss-Extrude3 (add)
    # profile 1 of 5: a face of its own
    with BuildSketch(Plane.XY.offset(20).offset(BOSS_EXTRUDE3_START)):
        with Locations((-16.167579904, 26.876811398)):
            Circle(SKETCH6_R)
        with Locations((-16.167579904, 26.876811398)):
            Circle(SKETCH6_R_2, mode=Mode.SUBTRACT)
    # profile 2 of 5: a face of its own
    with BuildSketch(Plane.XY.offset(20).offset(BOSS_EXTRUDE3_START)):
        with Locations((-0.167579904, 26.876811398)):
            Circle(SKETCH6_R)
        with Locations((-0.167579904, 26.876811398)):
            Circle(SKETCH6_R_2, mode=Mode.SUBTRACT)
    # profile 3 of 5: a face of its own
    with BuildSketch(Plane.XY.offset(20).offset(BOSS_EXTRUDE3_START)):
        with Locations((15.832420096, 26.876811398)):
            Circle(SKETCH6_R)
        with Locations((15.832420096, 26.876811398)):
            Circle(SKETCH6_R_2, mode=Mode.SUBTRACT)
    # profile 4 of 5: a face of its own
    with BuildSketch(Plane.XY.offset(20).offset(BOSS_EXTRUDE3_START)):
        with Locations((31.832420096, 26.876811398)):
            Circle(SKETCH6_R)
        with Locations((31.832420096, 26.876811398)):
            Circle(SKETCH6_R_2, mode=Mode.SUBTRACT)
    # profile 5 of 5: a face of its own
    with BuildSketch(Plane.XY.offset(20).offset(BOSS_EXTRUDE3_START)):
        with Locations((-32.167579904, 26.876811398)):
            Circle(SKETCH6_R_3)
        with Locations((-32.167579904, 26.876811398)):
            Circle(SKETCH6_R_2, mode=Mode.SUBTRACT)
    extrude(amount=BOSS_EXTRUDE3_DEPTH)

    # Sketch7 → Cut-Extrude1 (cut)
    with BuildSketch(Plane.XY.offset(20)):
        with Locations((-32.167579904, 26.876811398)):
            Circle(SKETCH7_R)
        with Locations((-16.167579904, 26.876811398)):
            Circle(SKETCH7_R_2)
        with Locations((-0.167579904, 26.876811398)):
            Circle(SKETCH7_R_2)
        with Locations((15.832420096, 26.876811398)):
            Circle(SKETCH7_R_2)
        with Locations((31.832420096, 26.876811398)):
            Circle(SKETCH7_R_2)
    extrude(amount=-CUT_EXTRUDE1_DEPTH, mode=Mode.SUBTRACT)


solid = part_1.part
